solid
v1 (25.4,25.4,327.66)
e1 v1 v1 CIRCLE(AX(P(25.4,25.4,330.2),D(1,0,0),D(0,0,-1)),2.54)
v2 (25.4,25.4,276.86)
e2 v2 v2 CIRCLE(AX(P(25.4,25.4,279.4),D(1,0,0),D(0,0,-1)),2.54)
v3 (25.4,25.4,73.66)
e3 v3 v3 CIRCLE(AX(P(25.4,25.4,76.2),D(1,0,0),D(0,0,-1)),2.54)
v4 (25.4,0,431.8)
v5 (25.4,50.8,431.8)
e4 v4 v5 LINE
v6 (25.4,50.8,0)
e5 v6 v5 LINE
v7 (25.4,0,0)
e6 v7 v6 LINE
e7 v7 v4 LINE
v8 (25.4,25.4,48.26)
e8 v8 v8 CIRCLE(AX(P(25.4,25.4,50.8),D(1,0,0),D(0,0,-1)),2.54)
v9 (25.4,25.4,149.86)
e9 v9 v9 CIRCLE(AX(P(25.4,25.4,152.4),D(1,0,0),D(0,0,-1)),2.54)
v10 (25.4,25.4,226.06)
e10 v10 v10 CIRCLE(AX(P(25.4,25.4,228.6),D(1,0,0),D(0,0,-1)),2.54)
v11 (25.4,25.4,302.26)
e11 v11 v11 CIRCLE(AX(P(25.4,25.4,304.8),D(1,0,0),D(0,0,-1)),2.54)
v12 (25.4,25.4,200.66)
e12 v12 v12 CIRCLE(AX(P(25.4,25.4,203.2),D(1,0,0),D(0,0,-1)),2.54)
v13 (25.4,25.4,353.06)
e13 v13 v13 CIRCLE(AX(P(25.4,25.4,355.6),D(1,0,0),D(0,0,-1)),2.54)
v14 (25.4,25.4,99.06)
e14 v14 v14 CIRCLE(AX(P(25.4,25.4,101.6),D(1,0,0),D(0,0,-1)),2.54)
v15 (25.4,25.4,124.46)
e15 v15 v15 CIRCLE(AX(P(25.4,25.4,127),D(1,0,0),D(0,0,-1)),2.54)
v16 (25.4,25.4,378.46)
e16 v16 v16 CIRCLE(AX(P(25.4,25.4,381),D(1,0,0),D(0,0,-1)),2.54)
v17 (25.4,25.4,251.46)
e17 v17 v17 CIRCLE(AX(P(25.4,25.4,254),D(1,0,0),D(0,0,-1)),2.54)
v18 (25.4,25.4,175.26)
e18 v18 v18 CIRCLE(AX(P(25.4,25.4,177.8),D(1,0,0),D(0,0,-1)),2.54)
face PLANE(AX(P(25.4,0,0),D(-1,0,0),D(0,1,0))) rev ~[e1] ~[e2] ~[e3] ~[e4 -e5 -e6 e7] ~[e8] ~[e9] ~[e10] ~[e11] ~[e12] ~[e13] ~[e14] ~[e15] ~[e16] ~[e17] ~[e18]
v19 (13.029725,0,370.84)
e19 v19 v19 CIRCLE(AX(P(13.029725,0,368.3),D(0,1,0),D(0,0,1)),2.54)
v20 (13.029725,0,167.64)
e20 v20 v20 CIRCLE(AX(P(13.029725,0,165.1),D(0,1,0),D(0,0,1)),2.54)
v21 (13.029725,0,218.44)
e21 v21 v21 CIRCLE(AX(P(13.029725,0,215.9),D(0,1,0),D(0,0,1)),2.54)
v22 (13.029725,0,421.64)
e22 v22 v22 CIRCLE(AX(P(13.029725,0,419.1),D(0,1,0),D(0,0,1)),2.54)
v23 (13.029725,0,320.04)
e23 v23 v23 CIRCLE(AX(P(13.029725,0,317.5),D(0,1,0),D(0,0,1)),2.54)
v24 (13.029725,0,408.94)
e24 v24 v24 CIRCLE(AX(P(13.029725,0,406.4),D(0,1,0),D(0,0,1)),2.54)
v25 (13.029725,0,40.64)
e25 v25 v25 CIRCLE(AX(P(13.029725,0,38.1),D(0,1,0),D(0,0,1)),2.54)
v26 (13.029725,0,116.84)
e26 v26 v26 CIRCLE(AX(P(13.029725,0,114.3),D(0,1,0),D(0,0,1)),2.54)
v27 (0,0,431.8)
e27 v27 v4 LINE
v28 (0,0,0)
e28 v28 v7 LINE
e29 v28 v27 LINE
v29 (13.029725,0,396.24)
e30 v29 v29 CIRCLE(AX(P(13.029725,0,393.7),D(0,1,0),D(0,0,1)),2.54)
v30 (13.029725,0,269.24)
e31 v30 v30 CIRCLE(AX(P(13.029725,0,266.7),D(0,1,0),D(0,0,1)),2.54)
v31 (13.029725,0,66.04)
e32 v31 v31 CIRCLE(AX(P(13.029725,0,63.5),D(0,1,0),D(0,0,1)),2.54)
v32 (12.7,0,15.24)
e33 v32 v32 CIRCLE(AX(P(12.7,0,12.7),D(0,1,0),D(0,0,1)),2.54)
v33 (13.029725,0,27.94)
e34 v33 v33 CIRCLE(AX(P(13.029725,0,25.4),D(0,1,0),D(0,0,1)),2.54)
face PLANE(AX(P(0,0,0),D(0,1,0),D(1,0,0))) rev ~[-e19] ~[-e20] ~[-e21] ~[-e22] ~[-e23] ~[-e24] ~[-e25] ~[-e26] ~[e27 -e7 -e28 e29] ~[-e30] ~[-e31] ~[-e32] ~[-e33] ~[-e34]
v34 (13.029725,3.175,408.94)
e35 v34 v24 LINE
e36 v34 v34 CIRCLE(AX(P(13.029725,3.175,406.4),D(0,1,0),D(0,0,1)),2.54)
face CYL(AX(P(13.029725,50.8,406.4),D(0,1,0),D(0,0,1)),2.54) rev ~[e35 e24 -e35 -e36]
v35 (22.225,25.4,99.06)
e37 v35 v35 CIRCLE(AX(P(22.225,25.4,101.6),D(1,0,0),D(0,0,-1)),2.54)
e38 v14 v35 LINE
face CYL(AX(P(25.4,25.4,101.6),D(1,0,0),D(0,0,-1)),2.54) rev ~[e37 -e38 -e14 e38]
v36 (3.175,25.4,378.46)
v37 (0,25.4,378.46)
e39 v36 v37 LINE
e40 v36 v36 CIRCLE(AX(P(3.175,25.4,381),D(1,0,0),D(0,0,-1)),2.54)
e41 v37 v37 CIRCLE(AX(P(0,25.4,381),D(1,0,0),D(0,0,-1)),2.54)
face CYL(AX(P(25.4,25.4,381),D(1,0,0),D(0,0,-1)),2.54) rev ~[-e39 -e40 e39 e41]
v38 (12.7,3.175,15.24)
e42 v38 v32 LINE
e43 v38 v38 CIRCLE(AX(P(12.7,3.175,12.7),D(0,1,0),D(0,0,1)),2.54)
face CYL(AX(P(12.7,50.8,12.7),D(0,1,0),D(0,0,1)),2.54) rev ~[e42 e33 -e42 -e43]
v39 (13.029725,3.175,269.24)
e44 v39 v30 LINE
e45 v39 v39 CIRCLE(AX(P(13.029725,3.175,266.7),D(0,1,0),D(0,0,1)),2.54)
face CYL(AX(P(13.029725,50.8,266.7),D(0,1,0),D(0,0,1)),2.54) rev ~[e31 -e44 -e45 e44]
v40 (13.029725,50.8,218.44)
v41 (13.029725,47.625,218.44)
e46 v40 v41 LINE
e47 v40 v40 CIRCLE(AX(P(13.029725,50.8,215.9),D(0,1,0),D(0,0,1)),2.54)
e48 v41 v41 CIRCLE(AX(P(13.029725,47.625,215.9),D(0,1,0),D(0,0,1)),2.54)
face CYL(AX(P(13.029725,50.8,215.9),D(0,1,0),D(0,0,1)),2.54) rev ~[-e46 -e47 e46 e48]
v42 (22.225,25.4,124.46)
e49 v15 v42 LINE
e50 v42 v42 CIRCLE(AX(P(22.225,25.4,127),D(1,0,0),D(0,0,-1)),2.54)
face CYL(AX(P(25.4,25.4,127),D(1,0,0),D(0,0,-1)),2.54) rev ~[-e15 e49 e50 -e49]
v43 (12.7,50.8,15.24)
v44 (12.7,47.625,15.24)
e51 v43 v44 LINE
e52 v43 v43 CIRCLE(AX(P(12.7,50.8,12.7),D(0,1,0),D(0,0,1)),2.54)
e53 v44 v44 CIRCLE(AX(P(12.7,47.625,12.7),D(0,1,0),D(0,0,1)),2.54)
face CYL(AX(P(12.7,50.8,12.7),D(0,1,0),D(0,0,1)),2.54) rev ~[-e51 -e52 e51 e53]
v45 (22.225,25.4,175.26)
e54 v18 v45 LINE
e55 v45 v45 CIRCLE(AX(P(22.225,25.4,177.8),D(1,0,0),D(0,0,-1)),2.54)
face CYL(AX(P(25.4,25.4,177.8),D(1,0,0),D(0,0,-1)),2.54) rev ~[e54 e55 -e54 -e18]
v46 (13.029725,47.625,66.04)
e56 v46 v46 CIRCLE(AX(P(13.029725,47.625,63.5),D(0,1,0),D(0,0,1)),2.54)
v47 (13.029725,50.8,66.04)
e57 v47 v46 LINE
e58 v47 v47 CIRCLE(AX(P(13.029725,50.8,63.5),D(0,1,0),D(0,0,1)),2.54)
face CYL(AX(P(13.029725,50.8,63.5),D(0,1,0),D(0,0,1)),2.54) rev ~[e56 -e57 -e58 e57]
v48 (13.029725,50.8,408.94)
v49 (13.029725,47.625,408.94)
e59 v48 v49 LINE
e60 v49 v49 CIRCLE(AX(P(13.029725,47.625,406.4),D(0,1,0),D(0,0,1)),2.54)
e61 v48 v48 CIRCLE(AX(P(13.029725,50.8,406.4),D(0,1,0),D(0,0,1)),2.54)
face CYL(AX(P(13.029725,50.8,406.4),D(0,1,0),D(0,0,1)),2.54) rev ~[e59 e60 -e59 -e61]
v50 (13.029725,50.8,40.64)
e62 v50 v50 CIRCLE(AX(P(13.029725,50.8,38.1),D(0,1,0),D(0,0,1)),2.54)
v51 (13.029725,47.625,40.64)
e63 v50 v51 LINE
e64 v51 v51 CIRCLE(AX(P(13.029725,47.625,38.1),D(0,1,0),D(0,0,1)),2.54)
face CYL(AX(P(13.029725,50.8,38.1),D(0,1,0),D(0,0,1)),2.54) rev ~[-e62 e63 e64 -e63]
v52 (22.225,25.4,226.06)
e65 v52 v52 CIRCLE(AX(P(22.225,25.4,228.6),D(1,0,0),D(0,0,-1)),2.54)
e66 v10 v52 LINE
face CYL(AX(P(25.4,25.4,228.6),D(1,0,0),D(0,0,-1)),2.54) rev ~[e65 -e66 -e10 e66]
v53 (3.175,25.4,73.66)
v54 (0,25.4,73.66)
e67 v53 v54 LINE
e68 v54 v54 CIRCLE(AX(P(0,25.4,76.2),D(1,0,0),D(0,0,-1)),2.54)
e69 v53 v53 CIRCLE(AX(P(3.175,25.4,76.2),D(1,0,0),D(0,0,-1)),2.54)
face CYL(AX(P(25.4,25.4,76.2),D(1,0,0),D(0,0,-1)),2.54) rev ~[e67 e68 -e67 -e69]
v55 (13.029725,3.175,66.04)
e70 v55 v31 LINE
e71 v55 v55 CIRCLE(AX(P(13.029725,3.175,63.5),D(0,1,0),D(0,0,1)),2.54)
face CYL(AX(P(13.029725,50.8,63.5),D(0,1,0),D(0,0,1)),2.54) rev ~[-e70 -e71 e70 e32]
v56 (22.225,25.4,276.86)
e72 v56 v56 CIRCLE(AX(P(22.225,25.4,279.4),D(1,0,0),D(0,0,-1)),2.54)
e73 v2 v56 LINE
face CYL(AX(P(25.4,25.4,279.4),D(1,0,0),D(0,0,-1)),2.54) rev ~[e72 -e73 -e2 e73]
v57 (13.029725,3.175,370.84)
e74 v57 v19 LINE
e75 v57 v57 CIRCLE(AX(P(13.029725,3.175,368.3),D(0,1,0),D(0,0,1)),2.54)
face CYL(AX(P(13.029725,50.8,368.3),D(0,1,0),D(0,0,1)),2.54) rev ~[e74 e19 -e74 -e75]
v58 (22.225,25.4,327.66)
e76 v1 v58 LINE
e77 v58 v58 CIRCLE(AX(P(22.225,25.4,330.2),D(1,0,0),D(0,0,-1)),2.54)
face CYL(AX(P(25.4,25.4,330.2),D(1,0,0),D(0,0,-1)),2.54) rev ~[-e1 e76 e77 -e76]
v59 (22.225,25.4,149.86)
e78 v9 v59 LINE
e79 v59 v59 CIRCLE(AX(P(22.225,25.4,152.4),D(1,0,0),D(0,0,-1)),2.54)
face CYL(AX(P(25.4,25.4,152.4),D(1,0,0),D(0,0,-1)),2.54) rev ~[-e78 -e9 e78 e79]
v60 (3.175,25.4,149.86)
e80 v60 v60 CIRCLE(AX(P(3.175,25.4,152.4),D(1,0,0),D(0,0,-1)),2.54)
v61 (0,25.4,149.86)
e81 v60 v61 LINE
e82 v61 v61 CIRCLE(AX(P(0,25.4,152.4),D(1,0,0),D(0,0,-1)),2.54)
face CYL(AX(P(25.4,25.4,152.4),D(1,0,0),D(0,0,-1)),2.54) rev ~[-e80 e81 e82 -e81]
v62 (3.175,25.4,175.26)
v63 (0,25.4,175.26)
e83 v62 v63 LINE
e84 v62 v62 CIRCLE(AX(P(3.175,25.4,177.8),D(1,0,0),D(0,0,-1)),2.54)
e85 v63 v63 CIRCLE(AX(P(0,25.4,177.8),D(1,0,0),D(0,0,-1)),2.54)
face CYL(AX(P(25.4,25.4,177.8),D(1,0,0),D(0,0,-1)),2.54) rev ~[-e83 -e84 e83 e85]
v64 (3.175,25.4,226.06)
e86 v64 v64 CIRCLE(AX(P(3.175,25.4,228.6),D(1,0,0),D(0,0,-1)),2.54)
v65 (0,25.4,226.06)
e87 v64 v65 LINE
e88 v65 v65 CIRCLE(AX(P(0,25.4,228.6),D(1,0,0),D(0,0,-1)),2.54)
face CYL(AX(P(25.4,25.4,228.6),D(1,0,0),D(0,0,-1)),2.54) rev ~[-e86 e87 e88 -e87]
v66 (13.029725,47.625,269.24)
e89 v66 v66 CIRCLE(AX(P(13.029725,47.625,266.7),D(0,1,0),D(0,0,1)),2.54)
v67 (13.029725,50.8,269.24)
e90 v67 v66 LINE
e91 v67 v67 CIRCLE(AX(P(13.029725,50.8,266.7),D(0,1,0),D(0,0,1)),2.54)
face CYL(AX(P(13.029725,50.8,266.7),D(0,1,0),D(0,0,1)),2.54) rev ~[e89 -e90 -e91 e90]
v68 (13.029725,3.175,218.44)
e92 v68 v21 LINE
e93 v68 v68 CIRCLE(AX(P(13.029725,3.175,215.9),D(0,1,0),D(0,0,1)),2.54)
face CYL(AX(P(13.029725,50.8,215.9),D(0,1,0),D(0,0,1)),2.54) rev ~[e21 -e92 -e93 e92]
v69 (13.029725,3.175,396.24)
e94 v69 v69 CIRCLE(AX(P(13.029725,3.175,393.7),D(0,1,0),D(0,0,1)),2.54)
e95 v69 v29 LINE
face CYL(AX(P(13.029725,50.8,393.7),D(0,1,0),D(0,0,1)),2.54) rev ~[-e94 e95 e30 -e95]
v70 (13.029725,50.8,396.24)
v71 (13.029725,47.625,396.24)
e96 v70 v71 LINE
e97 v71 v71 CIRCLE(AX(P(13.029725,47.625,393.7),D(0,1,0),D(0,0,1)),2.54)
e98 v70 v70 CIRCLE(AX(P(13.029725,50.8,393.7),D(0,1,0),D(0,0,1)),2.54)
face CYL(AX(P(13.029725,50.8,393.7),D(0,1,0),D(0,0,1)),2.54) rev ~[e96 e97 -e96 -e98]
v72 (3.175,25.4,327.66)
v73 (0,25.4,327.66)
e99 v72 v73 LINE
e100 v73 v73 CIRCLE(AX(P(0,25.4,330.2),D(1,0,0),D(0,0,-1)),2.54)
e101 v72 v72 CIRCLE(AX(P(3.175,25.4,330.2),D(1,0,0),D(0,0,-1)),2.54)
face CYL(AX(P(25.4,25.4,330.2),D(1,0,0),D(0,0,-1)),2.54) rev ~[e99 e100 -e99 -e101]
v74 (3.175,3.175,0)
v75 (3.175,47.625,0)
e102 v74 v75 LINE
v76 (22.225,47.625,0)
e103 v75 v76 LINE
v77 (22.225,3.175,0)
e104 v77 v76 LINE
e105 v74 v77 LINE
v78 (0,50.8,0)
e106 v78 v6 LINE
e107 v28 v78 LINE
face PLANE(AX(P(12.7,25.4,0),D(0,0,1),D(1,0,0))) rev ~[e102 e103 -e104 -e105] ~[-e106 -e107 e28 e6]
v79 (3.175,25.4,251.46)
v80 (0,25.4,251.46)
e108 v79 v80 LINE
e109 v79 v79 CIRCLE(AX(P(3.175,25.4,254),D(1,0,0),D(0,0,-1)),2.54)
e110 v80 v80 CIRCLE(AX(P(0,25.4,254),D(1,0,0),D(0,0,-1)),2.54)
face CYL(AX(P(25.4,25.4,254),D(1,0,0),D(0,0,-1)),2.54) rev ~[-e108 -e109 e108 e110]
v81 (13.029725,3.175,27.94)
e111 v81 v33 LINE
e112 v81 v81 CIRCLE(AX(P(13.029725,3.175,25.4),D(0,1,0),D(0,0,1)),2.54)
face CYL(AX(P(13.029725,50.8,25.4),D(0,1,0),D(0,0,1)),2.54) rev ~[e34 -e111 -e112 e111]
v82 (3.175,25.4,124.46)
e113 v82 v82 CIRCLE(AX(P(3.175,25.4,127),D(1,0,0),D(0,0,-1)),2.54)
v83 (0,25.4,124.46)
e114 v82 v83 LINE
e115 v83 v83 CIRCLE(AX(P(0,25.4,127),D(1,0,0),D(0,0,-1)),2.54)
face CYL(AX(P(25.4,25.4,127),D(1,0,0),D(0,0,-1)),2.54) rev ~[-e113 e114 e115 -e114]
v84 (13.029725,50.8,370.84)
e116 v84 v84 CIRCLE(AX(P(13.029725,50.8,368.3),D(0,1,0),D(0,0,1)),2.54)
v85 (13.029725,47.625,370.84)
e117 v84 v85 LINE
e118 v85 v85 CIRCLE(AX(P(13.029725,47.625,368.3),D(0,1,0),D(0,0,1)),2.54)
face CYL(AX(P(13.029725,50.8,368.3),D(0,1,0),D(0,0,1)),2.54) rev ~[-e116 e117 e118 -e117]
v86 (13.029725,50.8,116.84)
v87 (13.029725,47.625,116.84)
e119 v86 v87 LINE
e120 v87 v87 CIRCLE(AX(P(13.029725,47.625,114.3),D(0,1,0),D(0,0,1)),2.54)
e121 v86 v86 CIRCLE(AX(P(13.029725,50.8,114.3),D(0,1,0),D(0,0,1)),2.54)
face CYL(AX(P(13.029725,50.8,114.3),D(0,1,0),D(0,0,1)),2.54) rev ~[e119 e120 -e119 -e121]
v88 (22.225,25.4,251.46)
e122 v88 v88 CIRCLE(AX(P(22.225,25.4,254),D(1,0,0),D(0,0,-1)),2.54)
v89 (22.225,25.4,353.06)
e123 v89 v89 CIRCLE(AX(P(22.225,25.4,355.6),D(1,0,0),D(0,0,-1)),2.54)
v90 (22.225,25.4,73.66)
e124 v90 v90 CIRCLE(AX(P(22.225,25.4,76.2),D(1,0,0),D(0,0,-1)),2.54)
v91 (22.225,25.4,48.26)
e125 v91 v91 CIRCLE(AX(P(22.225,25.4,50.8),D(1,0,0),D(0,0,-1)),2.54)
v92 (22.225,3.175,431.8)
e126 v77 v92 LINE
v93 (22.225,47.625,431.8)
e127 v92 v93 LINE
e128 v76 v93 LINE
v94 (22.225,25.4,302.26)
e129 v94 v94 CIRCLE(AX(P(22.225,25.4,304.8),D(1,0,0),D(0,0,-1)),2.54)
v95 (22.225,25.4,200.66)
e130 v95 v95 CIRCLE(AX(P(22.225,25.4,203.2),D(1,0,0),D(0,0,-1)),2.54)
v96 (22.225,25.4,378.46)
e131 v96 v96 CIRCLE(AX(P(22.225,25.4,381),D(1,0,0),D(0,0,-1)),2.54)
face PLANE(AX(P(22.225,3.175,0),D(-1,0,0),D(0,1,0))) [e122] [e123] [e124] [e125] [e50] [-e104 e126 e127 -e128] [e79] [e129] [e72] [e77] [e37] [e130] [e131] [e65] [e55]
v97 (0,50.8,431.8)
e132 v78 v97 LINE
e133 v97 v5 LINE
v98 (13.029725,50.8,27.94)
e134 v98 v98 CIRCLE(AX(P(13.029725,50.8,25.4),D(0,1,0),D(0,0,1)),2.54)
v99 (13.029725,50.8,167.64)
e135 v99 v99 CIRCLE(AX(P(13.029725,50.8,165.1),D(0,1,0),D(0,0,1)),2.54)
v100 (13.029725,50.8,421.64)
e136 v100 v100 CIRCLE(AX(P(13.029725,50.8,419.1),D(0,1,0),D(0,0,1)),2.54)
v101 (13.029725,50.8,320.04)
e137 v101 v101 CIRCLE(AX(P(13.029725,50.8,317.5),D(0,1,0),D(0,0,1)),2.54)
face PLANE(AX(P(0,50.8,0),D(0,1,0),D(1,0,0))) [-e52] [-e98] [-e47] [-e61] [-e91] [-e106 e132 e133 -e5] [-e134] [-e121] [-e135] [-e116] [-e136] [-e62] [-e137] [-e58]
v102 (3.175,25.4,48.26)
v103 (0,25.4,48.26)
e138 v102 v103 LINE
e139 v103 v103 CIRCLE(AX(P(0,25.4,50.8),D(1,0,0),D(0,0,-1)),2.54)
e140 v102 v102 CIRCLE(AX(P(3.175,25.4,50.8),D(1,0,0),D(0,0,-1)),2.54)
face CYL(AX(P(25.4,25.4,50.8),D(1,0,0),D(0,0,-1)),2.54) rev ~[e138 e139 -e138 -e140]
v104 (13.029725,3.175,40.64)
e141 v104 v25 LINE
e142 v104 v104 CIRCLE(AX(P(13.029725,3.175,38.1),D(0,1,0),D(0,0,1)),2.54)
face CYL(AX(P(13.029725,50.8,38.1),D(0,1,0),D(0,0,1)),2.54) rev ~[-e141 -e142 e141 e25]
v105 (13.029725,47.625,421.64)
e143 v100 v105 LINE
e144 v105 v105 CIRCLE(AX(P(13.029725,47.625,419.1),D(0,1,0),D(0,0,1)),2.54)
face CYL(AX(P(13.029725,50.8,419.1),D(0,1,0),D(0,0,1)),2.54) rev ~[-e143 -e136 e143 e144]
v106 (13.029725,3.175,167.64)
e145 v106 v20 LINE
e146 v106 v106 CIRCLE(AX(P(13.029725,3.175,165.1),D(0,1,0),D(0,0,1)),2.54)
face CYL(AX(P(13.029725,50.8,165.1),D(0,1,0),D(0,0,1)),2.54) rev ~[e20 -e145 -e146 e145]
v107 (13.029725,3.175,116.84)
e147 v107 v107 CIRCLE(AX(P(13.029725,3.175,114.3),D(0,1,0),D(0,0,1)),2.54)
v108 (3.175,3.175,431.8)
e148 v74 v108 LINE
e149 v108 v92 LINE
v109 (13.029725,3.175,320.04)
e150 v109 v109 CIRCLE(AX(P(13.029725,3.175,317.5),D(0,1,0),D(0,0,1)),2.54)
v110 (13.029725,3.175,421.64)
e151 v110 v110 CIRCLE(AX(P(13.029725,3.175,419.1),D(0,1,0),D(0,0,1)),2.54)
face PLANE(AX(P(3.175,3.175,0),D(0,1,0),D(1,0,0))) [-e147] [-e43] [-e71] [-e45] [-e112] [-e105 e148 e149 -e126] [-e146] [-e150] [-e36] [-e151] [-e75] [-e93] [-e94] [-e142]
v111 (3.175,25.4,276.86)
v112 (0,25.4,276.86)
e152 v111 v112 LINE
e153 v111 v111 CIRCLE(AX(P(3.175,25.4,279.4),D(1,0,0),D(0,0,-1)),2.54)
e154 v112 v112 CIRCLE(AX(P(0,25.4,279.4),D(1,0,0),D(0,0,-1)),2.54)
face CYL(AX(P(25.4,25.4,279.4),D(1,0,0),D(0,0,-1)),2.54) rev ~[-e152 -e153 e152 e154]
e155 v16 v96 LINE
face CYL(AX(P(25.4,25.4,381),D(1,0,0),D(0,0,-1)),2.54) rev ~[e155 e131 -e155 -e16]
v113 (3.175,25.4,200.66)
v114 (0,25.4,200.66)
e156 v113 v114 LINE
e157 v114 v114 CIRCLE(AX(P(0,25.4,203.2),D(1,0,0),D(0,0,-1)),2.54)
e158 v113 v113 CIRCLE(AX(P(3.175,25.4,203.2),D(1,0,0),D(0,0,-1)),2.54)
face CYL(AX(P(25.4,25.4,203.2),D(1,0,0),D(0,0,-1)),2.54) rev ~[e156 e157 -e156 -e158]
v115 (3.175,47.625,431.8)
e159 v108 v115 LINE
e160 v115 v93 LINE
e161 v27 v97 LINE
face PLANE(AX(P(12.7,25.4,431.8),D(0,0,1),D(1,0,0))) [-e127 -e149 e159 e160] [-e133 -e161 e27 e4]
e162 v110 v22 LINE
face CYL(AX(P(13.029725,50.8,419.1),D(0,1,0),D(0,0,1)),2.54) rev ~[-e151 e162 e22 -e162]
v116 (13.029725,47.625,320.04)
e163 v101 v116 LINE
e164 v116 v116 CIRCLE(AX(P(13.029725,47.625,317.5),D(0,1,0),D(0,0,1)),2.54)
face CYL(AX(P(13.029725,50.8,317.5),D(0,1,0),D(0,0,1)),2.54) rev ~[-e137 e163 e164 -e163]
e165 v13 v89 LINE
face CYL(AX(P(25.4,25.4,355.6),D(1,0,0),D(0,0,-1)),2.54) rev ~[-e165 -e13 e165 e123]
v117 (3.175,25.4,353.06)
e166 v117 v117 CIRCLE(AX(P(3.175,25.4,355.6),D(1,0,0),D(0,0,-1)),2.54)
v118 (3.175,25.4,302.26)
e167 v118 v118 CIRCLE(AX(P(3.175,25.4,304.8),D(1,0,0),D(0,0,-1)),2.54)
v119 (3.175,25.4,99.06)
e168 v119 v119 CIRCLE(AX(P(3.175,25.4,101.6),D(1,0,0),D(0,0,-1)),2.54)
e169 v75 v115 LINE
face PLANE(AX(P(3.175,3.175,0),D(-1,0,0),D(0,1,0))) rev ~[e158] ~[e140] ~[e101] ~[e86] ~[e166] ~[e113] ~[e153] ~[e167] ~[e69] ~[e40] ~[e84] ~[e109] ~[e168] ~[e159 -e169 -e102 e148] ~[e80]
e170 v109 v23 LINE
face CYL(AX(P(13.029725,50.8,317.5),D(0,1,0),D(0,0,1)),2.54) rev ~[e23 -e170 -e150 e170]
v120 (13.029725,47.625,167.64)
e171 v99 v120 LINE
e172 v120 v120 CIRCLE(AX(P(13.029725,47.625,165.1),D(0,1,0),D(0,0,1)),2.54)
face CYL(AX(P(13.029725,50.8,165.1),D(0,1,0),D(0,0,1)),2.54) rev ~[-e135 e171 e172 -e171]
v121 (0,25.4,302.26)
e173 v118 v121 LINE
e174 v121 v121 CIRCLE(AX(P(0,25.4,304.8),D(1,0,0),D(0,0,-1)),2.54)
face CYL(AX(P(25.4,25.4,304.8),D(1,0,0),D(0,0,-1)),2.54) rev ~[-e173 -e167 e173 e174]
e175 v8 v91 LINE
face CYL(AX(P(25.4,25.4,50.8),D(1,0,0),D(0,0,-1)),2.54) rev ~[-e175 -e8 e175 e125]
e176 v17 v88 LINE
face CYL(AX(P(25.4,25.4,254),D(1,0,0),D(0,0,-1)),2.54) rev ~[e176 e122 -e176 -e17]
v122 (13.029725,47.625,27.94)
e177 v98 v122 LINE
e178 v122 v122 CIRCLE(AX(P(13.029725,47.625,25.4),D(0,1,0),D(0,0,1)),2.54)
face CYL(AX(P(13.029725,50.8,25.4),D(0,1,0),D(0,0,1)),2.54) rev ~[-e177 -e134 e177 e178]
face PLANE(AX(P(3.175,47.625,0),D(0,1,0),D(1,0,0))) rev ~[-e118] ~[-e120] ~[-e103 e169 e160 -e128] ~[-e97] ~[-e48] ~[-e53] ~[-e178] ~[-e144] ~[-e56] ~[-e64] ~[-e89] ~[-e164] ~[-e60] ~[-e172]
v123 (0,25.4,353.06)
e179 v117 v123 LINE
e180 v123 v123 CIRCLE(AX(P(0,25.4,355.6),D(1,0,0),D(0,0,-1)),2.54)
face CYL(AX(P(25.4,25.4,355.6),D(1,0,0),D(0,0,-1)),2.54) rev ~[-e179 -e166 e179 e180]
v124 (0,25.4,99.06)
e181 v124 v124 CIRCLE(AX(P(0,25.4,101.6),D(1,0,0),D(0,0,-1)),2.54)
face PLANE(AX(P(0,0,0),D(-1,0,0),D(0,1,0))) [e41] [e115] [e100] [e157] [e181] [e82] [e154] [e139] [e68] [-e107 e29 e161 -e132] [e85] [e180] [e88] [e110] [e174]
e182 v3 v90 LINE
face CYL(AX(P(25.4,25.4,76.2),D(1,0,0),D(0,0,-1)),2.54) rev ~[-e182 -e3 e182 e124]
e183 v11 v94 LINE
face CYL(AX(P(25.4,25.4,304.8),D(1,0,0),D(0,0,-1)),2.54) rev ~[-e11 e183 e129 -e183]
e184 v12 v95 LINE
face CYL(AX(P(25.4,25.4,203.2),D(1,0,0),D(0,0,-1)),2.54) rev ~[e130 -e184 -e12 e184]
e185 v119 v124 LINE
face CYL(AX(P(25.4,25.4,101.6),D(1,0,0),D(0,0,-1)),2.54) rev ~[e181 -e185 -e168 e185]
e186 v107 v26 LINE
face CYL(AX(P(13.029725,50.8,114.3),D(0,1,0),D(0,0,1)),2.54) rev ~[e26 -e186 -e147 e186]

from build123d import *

# Parameters (mm, degrees)
SKETCH1_W           = 25.4
SKETCH1_H           = 50.8
SKETCH1_W_2         = 19.05
SKETCH1_H_2         = 44.45
BOSS_EXTRUDE1_DEPTH = 431.8
SKETCH2_R           = 2.54
CUT_EXTRUDE1_DEPTH  = 436.519276267
SKETCH3_R           = 2.54
CUT_EXTRUDE2_DEPTH  = 436.519276267


with BuildPart() as part:
    # Sketch1 → Boss-Extrude1 (new body)
    with BuildSketch(Plane.XY):
        with Locations((12.7, 25.4)):
            Rectangle(SKETCH1_W, SKETCH1_H)
        with Locations((12.7, 25.4)):
            Rectangle(SKETCH1_W_2, SKETCH1_H_2, mode=Mode.SUBTRACT)
    extrude(amount=BOSS_EXTRUDE1_DEPTH)

    # Sketch2 → Cut-Extrude1 (cut, through all)
    with BuildSketch(Plane(origin=(0, 50.8, 0), x_dir=(1, 0, 0), z_dir=(0, 1, 0))):
        with Locations(Location((12.7, -12.7, 0), (0, 0, 270))):
            Circle(SKETCH2_R)
        with Locations(Location((13.029725146, -25.4, 0), (0, 0, 270))):
            Circle(SKETCH2_R)
        with Locations(Location((13.029725146, -38.1, 0), (0, 0, 270))):
            Circle(SKETCH2_R)
        with Locations(Location((13.029725146, -406.4, 0), (0, 0, 270))):
            Circle(SKETCH2_R)
        with Locations(Location((13.029725146, -419.1, 0), (0, 0, 270))):
            Circle(SKETCH2_R)
        with Locations(Location((13.029725146, -393.7, 0), (0, 0, 270))):
            Circle(SKETCH2_R)
        with Locations(Location((13.029725146, -368.3, 0), (0, 0, 270))):
            Circle(SKETCH2_R)
        with Locations(Location((13.029725146, -317.5, 0), (0, 0, 270))):
            Circle(SKETCH2_R)
        with Locations(Location((13.029725146, -266.7, 0), (0, 0, 270))):
            Circle(SKETCH2_R)
        with Locations(Location((13.029725146, -215.9, 0), (0, 0, 270))):
            Circle(SKETCH2_R)
        with Locations(Location((13.029725146, -165.1, 0), (0, 0, 270))):
            Circle(SKETCH2_R)
        with Locations(Location((13.029725146, -114.3, 0), (0, 0, 270))):
            Circle(SKETCH2_R)
        with Locations(Location((13.029725146, -63.5, 0), (0, 0, 270))):
            Circle(SKETCH2_R)
    extrude(amount=-CUT_EXTRUDE1_DEPTH, mode=Mode.SUBTRACT)

    # Sketch3 → Cut-Extrude2 (cut, through all)
    with BuildSketch(Plane(origin=(25.4, 0, 0), x_dir=(0, 0, -1), z_dir=(1, 0, 0))):
        with Locations((-381, 25.4)):
            Circle(SKETCH3_R)
        with Locations((-355.6, 25.4)):
            Circle(SKETCH3_R)
        with Locations((-330.2, 25.4)):
            Circle(SKETCH3_R)
        with Locations((-304.8, 25.4)):
            Circle(SKETCH3_R)
        with Locations((-279.4, 25.4)):
            Circle(SKETCH3_R)
        with Locations((-254, 25.4)):
            Circle(SKETCH3_R)
        with Locations((-228.6, 25.4)):
            Circle(SKETCH3_R)
        with Locations((-203.2, 25.4)):
            Circle(SKETCH3_R)
        with Locations((-177.8, 25.4)):
            Circle(SKETCH3_R)
        with Locations((-152.4, 25.4)):
            Circle(SKETCH3_R)
        with Locations((-127, 25.4)):
            Circle(SKETCH3_R)
        with Locations((-101.6, 25.4)):
            Circle(SKETCH3_R)
        with Locations((-76.2, 25.4)):
            Circle(SKETCH3_R)
        with Locations((-50.8, 25.4)):
            Circle(SKETCH3_R)
    extrude(amount=-CUT_EXTRUDE2_DEPTH, mode=Mode.SUBTRACT)


solid = part.part
